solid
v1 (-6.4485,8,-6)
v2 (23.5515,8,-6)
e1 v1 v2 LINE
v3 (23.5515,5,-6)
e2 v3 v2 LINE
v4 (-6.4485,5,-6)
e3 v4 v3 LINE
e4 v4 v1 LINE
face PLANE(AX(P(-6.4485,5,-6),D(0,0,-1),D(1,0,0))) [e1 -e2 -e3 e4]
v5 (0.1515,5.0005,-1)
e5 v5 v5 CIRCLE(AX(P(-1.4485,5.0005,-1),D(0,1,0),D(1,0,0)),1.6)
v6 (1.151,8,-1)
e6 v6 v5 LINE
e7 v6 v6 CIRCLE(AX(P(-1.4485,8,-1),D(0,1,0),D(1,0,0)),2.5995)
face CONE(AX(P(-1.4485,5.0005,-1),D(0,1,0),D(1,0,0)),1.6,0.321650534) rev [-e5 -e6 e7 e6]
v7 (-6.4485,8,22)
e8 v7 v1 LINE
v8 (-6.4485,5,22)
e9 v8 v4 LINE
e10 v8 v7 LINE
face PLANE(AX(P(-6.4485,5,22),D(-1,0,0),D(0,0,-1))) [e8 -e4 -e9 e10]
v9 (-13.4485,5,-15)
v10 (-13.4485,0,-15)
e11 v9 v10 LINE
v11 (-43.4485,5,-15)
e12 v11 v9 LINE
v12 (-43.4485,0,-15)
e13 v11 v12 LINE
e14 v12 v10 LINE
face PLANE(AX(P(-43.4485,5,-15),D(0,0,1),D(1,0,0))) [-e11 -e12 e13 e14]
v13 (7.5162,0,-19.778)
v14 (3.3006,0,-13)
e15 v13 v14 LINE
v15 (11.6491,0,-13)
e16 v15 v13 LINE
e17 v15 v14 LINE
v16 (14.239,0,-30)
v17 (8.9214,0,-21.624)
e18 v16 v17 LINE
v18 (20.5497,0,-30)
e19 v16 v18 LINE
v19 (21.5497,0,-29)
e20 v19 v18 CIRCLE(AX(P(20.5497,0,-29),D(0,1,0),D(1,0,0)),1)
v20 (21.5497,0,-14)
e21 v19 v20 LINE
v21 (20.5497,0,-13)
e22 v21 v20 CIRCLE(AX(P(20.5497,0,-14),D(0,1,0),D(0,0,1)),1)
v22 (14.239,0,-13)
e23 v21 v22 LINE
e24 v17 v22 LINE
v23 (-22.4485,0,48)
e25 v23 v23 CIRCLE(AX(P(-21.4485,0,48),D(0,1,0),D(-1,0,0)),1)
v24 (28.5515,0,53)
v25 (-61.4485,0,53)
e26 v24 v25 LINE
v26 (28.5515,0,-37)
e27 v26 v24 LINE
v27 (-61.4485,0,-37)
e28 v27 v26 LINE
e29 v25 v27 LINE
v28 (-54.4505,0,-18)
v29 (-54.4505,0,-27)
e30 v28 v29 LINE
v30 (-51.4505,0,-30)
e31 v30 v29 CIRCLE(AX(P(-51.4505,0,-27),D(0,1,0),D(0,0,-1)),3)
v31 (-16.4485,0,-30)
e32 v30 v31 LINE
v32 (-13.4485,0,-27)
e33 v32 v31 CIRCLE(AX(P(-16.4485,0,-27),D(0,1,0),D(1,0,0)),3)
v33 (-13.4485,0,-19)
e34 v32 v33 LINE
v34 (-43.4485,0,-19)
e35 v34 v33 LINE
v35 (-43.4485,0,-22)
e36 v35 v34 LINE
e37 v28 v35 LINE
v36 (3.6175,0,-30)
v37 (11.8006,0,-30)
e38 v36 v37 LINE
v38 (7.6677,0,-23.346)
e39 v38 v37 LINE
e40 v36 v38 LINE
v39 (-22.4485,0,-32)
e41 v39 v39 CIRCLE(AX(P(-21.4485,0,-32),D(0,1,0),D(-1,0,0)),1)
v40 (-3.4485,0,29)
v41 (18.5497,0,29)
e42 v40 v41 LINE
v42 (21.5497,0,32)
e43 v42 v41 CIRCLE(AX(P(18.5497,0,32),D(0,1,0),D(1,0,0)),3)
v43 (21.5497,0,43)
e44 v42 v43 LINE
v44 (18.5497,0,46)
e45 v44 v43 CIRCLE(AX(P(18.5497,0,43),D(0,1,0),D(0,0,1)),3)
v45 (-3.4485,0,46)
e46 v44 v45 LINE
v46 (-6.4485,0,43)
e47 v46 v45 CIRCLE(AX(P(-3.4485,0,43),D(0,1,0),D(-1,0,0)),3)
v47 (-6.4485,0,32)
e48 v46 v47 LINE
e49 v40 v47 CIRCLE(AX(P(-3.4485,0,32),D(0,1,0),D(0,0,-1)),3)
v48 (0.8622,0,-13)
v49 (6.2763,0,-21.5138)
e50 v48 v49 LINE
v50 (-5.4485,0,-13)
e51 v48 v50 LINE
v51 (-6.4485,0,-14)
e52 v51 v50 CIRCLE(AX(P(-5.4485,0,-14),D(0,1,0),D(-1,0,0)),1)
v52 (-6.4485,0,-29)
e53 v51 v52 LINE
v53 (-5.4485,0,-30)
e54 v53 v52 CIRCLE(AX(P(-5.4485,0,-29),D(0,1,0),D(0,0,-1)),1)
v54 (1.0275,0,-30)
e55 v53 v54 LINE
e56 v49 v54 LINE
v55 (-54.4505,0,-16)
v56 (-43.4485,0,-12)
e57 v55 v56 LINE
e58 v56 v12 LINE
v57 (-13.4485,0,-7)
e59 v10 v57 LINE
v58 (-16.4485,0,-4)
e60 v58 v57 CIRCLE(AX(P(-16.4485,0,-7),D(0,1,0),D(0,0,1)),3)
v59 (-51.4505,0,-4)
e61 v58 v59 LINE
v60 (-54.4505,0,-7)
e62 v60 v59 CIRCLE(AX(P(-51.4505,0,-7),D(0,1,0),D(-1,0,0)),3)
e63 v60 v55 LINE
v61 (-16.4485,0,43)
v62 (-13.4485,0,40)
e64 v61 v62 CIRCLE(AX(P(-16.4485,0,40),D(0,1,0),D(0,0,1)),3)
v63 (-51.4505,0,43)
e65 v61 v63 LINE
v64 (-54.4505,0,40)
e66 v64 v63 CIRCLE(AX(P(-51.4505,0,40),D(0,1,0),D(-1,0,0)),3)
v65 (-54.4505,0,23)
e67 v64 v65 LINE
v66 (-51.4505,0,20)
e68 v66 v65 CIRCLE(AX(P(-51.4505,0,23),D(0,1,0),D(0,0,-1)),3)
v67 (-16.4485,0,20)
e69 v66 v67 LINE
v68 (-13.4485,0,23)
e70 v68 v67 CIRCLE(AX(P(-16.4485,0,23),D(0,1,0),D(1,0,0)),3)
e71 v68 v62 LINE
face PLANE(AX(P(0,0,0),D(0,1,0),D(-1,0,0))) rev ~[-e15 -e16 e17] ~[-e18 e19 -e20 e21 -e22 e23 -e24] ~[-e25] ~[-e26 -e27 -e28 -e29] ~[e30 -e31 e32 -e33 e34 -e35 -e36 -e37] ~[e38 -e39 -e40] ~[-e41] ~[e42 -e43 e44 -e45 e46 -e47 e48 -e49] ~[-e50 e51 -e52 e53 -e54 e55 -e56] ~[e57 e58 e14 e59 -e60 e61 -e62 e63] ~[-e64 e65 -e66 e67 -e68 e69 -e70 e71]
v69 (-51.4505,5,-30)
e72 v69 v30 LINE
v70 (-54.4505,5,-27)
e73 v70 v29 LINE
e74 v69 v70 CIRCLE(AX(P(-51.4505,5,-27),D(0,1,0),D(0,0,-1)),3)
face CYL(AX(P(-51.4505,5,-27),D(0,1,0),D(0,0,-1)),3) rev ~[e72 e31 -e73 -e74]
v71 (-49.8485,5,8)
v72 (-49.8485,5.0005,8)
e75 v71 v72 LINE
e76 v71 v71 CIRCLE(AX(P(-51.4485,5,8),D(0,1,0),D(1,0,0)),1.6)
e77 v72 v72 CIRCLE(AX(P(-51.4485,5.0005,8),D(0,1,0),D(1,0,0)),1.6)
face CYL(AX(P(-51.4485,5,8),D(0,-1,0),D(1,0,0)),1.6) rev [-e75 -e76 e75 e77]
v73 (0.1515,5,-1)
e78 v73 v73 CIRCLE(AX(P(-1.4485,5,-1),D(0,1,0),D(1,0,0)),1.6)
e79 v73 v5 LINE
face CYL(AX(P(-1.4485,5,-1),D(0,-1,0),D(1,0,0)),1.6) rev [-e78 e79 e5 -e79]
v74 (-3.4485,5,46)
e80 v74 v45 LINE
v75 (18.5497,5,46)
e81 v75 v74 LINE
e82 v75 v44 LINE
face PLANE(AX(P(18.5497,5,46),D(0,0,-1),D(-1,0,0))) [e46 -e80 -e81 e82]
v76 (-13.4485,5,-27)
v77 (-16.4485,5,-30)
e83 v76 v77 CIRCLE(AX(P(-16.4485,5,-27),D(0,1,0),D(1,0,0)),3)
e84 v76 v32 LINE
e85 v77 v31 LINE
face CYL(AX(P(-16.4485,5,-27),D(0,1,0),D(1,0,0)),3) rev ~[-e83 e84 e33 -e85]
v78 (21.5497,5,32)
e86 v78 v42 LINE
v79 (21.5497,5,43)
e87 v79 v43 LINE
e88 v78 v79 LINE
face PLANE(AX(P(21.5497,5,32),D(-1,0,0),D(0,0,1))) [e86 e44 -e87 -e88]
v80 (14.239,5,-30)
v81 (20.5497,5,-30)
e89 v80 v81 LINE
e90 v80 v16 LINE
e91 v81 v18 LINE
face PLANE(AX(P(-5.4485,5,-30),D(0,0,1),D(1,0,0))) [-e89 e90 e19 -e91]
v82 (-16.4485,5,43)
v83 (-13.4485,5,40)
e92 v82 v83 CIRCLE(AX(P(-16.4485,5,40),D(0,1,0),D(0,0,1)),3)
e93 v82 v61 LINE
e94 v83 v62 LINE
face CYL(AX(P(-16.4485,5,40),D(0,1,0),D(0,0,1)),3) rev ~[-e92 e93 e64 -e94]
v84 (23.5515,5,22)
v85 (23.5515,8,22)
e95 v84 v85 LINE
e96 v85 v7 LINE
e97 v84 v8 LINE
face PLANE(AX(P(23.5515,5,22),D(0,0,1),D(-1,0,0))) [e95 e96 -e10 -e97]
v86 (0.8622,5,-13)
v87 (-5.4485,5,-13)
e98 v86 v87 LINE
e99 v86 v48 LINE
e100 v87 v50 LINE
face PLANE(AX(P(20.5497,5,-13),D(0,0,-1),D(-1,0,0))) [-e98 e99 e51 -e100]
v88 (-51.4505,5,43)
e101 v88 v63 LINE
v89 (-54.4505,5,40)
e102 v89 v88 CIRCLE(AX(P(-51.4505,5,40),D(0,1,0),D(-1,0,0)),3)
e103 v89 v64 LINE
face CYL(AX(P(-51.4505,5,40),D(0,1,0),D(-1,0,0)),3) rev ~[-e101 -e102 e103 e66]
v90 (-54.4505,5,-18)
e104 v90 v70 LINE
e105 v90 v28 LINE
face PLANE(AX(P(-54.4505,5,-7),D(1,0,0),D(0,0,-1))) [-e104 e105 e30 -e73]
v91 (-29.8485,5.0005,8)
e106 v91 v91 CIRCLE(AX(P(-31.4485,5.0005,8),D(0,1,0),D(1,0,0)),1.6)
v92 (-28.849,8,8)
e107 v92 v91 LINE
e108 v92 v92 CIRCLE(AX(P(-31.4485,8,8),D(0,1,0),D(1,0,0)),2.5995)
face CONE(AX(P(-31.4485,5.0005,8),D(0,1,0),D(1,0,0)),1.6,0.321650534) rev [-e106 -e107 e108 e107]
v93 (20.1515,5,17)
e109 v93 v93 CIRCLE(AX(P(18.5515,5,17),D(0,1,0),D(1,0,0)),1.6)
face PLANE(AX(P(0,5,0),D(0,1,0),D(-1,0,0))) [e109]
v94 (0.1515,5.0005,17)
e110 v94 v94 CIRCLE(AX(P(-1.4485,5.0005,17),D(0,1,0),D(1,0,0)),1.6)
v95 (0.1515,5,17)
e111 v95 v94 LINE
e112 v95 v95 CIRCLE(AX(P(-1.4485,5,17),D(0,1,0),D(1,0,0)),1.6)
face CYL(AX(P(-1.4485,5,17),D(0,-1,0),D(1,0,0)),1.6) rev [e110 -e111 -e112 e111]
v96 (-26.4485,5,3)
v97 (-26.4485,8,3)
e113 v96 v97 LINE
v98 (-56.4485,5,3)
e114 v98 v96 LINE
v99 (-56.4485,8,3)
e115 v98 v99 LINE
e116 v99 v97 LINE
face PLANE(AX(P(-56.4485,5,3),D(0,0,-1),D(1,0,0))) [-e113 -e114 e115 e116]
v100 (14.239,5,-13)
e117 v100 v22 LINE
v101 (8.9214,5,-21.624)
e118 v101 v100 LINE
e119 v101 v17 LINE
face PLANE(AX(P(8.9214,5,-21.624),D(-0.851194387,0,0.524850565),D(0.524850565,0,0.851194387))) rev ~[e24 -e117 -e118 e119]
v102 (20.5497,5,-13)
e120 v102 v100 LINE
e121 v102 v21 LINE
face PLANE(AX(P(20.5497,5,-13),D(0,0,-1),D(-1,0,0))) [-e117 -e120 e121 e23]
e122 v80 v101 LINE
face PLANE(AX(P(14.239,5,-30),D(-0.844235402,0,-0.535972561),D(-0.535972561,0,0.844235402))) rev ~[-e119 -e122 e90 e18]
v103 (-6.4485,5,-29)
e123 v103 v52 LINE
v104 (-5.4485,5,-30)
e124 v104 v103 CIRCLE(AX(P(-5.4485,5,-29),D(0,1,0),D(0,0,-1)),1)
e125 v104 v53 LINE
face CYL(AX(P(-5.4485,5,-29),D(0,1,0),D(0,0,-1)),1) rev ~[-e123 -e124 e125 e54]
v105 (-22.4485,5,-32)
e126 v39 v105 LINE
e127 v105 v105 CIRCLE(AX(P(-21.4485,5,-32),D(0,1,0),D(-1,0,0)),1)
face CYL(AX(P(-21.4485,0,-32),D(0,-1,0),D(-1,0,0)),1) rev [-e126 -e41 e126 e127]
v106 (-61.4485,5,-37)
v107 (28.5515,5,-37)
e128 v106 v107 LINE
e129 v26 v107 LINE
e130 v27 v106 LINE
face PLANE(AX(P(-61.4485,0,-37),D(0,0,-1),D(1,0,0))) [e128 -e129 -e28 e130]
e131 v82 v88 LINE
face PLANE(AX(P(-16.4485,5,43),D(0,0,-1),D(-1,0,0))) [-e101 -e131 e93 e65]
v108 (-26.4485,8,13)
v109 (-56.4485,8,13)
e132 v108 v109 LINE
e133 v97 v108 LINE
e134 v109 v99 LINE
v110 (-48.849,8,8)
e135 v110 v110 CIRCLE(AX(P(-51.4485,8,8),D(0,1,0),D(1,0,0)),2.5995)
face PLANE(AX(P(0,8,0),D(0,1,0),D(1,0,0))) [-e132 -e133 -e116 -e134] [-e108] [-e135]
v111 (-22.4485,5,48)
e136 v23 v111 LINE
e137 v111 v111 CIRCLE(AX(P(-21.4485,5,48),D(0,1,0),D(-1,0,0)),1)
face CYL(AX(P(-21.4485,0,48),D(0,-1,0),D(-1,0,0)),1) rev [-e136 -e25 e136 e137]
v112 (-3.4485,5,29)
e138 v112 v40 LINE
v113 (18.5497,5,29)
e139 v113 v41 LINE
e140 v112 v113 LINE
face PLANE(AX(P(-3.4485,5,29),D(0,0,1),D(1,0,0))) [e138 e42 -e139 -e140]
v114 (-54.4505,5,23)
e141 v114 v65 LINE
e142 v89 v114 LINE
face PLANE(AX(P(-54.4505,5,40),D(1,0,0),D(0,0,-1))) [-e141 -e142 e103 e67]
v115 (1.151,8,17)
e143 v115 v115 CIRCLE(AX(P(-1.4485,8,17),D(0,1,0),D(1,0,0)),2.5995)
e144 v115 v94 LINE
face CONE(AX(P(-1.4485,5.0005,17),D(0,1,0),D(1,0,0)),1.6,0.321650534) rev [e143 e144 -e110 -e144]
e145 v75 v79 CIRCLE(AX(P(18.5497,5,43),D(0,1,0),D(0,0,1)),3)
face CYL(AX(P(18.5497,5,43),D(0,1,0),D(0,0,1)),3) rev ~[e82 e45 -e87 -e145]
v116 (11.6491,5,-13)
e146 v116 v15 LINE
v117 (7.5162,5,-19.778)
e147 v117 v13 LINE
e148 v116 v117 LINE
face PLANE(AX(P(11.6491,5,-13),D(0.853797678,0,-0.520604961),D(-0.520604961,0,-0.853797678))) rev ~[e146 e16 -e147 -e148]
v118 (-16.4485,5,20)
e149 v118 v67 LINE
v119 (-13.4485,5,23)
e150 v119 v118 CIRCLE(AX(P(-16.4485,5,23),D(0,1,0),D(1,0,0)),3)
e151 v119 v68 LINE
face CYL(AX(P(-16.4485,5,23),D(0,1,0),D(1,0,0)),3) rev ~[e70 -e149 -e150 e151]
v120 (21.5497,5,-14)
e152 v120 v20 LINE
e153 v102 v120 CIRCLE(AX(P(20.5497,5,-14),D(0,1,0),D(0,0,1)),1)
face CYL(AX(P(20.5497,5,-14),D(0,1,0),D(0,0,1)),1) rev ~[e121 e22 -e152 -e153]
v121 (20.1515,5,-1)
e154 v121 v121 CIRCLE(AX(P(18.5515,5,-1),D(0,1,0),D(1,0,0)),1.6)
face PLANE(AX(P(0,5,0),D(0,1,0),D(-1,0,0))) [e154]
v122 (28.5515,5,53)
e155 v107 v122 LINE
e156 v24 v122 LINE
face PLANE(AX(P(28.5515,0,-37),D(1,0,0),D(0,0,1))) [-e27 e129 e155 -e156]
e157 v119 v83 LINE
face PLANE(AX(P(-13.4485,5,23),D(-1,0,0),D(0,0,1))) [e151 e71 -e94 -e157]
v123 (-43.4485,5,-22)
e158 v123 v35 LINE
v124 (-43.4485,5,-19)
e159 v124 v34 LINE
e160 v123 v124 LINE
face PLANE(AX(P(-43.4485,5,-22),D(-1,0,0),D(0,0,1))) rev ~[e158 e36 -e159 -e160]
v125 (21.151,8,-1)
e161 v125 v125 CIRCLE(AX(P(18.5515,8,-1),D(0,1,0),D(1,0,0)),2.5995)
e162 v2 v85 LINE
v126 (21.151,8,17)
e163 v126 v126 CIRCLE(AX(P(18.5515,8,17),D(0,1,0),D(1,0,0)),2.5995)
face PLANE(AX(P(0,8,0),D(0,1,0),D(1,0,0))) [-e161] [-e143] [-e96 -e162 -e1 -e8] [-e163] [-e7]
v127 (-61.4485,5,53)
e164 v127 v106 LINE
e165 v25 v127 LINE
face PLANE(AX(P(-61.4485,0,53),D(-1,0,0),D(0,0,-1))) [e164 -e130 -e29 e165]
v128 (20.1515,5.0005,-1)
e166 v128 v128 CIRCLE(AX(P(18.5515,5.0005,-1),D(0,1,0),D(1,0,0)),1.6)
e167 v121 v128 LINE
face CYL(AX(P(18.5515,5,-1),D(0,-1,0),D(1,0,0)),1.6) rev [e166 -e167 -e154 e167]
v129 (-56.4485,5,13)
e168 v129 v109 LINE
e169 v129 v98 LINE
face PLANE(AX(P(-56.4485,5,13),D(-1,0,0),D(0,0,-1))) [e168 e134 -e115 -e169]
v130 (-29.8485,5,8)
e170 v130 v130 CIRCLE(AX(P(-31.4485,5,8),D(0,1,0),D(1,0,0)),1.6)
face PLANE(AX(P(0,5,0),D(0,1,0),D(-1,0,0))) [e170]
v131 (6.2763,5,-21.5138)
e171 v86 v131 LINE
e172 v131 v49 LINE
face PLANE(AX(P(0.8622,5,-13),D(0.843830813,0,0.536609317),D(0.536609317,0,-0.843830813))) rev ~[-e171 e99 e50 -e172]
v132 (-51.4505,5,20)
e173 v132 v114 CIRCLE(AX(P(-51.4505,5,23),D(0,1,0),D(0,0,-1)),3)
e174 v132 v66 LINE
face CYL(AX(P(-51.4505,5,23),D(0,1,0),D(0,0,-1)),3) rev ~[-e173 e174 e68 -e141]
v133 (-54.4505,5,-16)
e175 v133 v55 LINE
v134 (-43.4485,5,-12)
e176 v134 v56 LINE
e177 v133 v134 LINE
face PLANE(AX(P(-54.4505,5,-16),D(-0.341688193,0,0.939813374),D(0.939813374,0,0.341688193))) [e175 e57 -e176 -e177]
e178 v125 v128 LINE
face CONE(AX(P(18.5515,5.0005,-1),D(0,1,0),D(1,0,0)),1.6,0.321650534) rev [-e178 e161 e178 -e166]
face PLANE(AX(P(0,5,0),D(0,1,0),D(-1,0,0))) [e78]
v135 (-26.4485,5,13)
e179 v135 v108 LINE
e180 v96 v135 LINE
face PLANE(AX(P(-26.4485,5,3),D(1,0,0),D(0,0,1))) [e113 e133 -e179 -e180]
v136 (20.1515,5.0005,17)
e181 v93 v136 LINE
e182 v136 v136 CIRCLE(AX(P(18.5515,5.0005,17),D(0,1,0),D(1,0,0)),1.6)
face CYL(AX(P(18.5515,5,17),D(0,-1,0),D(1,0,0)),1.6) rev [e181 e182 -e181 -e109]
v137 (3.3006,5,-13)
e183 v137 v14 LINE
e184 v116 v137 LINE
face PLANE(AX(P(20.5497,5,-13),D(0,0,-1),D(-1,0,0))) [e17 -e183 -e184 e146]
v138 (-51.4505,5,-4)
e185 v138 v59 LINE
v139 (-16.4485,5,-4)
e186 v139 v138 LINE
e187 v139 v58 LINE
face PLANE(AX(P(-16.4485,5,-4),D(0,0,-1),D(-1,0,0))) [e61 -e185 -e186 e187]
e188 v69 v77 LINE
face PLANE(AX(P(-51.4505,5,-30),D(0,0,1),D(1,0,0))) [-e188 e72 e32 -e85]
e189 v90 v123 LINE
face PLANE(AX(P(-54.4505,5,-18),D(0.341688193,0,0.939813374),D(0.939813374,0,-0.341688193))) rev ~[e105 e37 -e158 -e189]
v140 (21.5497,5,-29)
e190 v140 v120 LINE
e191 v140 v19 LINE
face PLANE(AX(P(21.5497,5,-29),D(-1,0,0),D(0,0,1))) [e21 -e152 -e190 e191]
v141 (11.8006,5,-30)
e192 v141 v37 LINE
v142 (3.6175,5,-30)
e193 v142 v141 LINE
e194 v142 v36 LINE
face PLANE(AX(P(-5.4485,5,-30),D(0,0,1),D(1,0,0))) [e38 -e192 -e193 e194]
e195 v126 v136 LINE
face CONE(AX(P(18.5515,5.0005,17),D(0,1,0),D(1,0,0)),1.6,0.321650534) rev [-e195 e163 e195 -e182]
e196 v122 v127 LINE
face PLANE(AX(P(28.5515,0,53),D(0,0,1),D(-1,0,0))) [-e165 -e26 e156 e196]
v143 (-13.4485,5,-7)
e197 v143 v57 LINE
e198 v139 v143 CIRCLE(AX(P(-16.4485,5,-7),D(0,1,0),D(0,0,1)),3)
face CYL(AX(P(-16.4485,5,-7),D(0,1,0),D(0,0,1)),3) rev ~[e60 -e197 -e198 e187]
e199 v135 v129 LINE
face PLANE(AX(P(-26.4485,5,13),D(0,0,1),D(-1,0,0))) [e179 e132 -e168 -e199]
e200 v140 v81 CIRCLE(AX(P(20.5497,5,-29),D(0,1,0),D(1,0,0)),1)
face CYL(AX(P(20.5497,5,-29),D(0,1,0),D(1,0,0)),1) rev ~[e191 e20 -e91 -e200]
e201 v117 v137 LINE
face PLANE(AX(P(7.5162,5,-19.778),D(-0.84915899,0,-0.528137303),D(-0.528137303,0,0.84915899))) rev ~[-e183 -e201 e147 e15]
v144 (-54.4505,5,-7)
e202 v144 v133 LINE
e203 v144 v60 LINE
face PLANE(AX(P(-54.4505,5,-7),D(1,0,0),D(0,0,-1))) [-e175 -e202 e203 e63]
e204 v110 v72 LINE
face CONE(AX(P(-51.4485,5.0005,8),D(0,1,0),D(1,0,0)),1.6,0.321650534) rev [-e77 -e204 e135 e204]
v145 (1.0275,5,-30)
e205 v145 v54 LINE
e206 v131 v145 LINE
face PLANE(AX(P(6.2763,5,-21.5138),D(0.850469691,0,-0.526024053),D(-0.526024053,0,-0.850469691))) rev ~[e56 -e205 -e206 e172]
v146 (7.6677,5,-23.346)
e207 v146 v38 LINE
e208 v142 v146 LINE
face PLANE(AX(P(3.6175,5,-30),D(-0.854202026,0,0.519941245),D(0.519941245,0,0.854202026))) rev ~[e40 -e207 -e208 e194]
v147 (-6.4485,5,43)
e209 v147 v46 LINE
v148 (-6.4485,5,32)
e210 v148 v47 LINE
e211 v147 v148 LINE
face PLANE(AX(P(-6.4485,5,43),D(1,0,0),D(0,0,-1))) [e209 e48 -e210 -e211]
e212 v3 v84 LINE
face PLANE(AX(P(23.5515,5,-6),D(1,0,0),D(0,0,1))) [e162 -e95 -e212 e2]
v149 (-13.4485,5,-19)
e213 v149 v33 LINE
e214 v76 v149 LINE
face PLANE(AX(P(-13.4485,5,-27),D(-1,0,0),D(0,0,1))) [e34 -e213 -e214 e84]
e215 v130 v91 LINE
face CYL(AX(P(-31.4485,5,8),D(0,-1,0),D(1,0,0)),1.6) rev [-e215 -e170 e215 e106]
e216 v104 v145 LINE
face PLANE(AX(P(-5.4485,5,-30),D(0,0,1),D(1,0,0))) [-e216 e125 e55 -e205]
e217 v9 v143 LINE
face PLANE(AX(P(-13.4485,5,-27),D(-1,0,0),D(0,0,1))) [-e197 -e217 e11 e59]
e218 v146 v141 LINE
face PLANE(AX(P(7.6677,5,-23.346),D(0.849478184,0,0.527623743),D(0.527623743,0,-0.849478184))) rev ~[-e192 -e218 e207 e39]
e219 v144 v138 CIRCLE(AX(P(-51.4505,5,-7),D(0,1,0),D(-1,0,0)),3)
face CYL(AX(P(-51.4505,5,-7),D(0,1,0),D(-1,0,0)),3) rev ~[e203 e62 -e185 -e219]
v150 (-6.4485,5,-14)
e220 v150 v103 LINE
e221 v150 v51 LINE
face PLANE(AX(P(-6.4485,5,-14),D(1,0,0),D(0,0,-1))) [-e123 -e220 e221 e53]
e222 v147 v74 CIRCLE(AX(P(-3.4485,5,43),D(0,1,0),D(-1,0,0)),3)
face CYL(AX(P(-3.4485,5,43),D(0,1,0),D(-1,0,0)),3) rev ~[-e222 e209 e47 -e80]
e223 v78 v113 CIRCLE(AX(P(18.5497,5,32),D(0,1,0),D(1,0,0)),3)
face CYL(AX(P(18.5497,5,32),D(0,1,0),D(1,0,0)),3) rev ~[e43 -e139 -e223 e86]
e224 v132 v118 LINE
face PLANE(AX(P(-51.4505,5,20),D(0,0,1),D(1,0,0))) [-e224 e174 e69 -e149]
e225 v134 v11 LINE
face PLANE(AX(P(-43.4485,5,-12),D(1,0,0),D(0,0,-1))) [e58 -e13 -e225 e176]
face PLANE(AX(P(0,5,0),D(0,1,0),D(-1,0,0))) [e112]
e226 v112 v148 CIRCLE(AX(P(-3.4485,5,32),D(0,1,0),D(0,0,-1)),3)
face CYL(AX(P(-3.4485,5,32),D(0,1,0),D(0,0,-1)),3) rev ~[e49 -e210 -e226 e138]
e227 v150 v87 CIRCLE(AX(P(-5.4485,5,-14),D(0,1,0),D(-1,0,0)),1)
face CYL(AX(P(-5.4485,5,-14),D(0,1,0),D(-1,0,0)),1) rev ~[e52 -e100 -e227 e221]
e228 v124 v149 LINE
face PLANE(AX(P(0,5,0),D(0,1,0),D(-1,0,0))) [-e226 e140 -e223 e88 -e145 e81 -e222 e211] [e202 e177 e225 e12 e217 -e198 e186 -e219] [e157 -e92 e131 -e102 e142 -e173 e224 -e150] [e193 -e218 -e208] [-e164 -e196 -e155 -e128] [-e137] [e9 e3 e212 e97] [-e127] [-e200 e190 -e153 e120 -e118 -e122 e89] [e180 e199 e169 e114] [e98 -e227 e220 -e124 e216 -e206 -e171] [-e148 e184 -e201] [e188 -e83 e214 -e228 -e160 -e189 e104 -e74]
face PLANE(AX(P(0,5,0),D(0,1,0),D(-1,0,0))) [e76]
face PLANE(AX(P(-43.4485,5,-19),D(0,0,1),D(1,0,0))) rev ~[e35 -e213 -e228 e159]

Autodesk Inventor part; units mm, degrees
ref_plane "YZ Plane" through (0, 0, 0) normal (1, 0, 0) x (0, 1, 0)
ref_plane "Arbeitsebene1" through (-21.4485, 99.4, 5.4) normal (-1, 0, 0) x (0, -0.6026, -0.798)
sketch "center1" plane through (-21.4485, 99.4, 5.4) normal (-1, 0, 0) x (0, -0.6026, -0.798)
  line L0 (125.8462, -4.4299) -> (-42.8597, 122.9603)
  line L1 (111.6965, 152.237) -> (-23.2865, -26.5243)
  point P0 (64.2081, 76.0713)
ref_plane "Arbeitsebene2" through (53.5515, 27.1, 8) normal (0, 0, -1) x (0, 1, 0)
sketch "center2" plane through (53.5515, 27.1, 8) normal (0, 0, -1) x (0, 1, 0)
  line L0 (0, 239.86) -> (0, -220.81)
  point P0 (-27.1, -53.5515)
sketch "Hallsensor" plane through (0, 0, 0) normal (0, 1, 0) x (-1, 0, 0)
  line L0 (21.4485, 13) -> (41.4485, 13) construction
  line L1 (41.4485, 13) -> (41.4485, 3) construction
  line L2 (41.4485, 3) -> (21.4485, 3) construction
  line L3 (21.4485, 3) -> (21.4485, 13) construction
  line L4 (21.4485, -97.7) -> (21.4485, 113.7) construction
  line L5 (-293.4115, 8) -> (167.2585, 8) construction
  line L6 (40.4485, 4) -> (42.4485, 4)
  line L7 (42.4485, 4) -> (42.4485, 2)
  line L8 (42.4485, 2) -> (40.4485, 2)
  line L9 (40.4485, 2) -> (40.4485, 4)
  line L10 (40.4485, 4) -> (42.4485, 2) construction
  line L11 (42.4485, 4) -> (40.4485, 2) construction
  line L12 (22.4485, 4) -> (20.4485, 4)
  line L13 (20.4485, 4) -> (20.4485, 2)
  line L14 (20.4485, 2) -> (22.4485, 2)
  line L15 (22.4485, 2) -> (22.4485, 4)
  line L16 (22.4485, 4) -> (20.4485, 2) construction
  line L17 (20.4485, 4) -> (22.4485, 2) construction
  line L18 (22.4485, 14) -> (20.4485, 14)
  line L19 (20.4485, 14) -> (20.4485, 12)
  line L20 (20.4485, 12) -> (22.4485, 12)
  line L21 (22.4485, 12) -> (22.4485, 14)
  line L22 (22.4485, 14) -> (20.4485, 12) construction
  line L23 (20.4485, 14) -> (22.4485, 12) construction
  line L24 (42.4485, 14) -> (40.4485, 14)
  line L25 (40.4485, 14) -> (40.4485, 12)
  line L26 (40.4485, 12) -> (42.4485, 12)
  line L27 (42.4485, 12) -> (42.4485, 14)
  line L28 (42.4485, 14) -> (40.4485, 12) construction
  line L29 (40.4485, 14) -> (42.4485, 12) construction
  line L30 (51.4485, -1) -> (1.4485, -1) construction
  line L31 (1.4485, -1) -> (1.4485, 17) construction
  line L32 (1.4485, 17) -> (51.4485, 17) construction
  line L33 (51.4485, 17) -> (51.4485, -1) construction
  circle A0 centre (51.4485, 8) radius 1.5
  circle A1 centre (1.4485, -1) radius 1.5
  circle A2 centre (1.4485, 17) radius 1.5
  point P0 (0, 0)
  point P1 (21.4485, 3)
  point P2 (21.4485, 3)
  dimension "d70" = 20
  dimension "d71" = 10
  dimension "d72" = 2
  dimension "d73" = 4
  dimension "d74" = 4
  dimension "d75" = 20
  dimension "d76" = 10
  dimension "d77" = 3
  dimension "d78" = 5
sketch "Groundplane" plane through (0, 0, 0) normal (0, 1, 0) x (-1, 0, 0)
  line L0 (-293.4115, 8) -> (167.2585, 8) construction
  line L1 (21.4485, -97.7) -> (21.4485, 113.7) construction
  arc A0 (22.4485, -32) -> (20.4485, -32) centre (21.4485, -32) ccw construction
  line L2 (22.4485, -32) -> (20.4485, -32) construction
  line L3 (20.4485, -32) -> (20.4485, -37) construction
  line L4 (20.4485, -37) -> (22.4485, -37) construction
  line L5 (22.4485, -37) -> (22.4485, -32) construction
  arc A1 (20.4485, 48) -> (22.4485, 48) centre (21.4485, 48) ccw construction
  line L6 (20.4485, 48) -> (22.4485, 48) construction
  line L7 (22.4485, 48) -> (22.4485, 53) construction
  line L8 (22.4485, 53) -> (20.4485, 53) construction
  line L9 (20.4485, 53) -> (20.4485, 48) construction
  line L10 (61.4485, -37) -> (-28.5515, -37) construction
  line L11 (-28.5515, -37) -> (-28.5515, 53) construction
  line L12 (-28.5515, 53) -> (61.4485, 53) construction
  line L13 (61.4485, 53) -> (61.4485, -37) construction
  dimension "d87" = 5
  dimension "d88" = 2
  dimension "d89" = 2
  dimension "d90" = 5
  dimension "d91" = 90
  dimension "d92" = 45
  dimension "d97" = 50
  dimension "d98" = 90
sketch "Montagepunkte" plane through (0, 0, 0) normal (0, 1, 0) x (-1, 0, 0)
  circle A0 centre (51.4485, 8) radius 1.5 construction
  circle A1 centre (1.4485, -1) radius 1.5 construction
  circle A2 centre (1.4485, 17) radius 1.5 construction
  line L0 (1.4485, -1) -> (-18.5515, -1) construction
  line L1 (-18.5515, -1) -> (-18.5515, 17) construction
  line L2 (-18.5515, 17) -> (1.4485, 17) construction
  line L3 (1.4485, 17) -> (1.4485, -1) construction
  line L4 (51.4485, 8) -> (31.4485, 8) construction
  circle A3 centre (31.4485, 8) radius 1.6
  circle A4 centre (51.4485, 8) radius 1.6
  circle A5 centre (1.4485, -1) radius 1.6
  circle A6 centre (1.4485, 17) radius 1.6
  circle A7 centre (-18.5515, 17) radius 1.6
  circle A8 centre (-18.5515, -1) radius 1.6
  arc A9 (22.4485, -32) -> (20.4485, -32) centre (21.4485, -32) ccw construction
  arc A10 (20.4485, 48) -> (22.4485, 48) centre (21.4485, 48) ccw construction
  circle A11 centre (21.4485, -32) radius 1
  circle A12 centre (21.4485, 48) radius 1
  dimension "d93" = 20
  dimension "d94" = 20
  dimension "d95" = 3.2
  dimension "d96" = 2
sketch "Skizze5" plane through (0, 0, 0) normal (0, 1, 0) x (-1, 0, 0)
  line L0 (-293.4115, 8) -> (167.2585, 8) construction
  circle A0 centre (21.4485, -32) radius 1 projected
  circle A1 centre (21.4485, 48) radius 1 projected
  line L1 (61.4485, -37) -> (-28.5515, -37) projected
  line L2 (61.4485, 53) -> (61.4485, -37) projected
  line L3 (-28.5515, -37) -> (-28.5515, 53) projected
  line L4 (-28.5515, 53) -> (61.4485, 53) projected
extrude "Extrusion2" add sketch "Skizze5" along normal blind 5
sketch "Skizze6" plane through (0, 5, 0) normal (0, 1, 0) x (1, 0, 0)
  line L0 (-56.4485, -3) -> (-26.4485, -3)
  line L1 (-26.4485, -3) -> (-26.4485, -13)
  line L2 (-26.4485, -13) -> (-56.4485, -13)
  line L3 (-56.4485, -13) -> (-56.4485, -3)
  line L4 (-6.4485, 6) -> (23.5515, 6)
  line L5 (23.5515, 6) -> (23.5515, -22)
  line L6 (23.5515, -22) -> (-6.4485, -22)
  line L7 (-6.4485, -22) -> (-6.4485, 6)
  circle A0 centre (-51.4485, -8) radius 1.6 projected
  circle A1 centre (-31.4485, -8) radius 1.6 projected
  circle A2 centre (-1.4485, -17) radius 1.6 projected
  circle A3 centre (18.5515, -17) radius 1.6 projected
  circle A4 centre (18.5515, 1) radius 1.6 projected
  circle A5 centre (-1.4485, 1) radius 1.6 projected
  point P0 (0, 0)
  dimension "d99" = 5
  dimension "d100" = 5
  dimension "d101" = 5
  dimension "d102" = 5
  dimension "d103" = 5
  dimension "d104" = 5
  dimension "d105" = 5
  dimension "d106" = 5
extrude "Extrusion3" add sketch "Skizze6" along normal blind 3
chamfer "Fase1" distance 1 distance2 3 2 edges at (-53.0485, 8, 8) (-33.0485, 8, 8) measured on face at (-38.3043, 8, 4.168)
chamfer "Fase2" distance 1 distance2 3 4 edges at (-3.0485, 8, -1) (16.9515, 8, -1) (16.9515, 8, 17) (-3.0485, 8, 17) measured on face at (11.4857, 8, 5.3537)
sketch "Skizze7" plane through (0, 5, 0) normal (0, 1, 0) x (1, 0, 0)
  line L0 (-51.4505, 30) -> (-16.4485, 30)
  line L1 (-13.4485, 27) -> (-13.4485, 7)
  line L2 (-16.4485, 4) -> (-51.4505, 4)
  line L3 (-54.4505, 7) -> (-54.4505, 27)
  line L4 (-51.4505, -20) -> (-16.4485, -20)
  line L5 (-13.4485, -23) -> (-13.4485, -40)
  line L6 (-16.4485, -43) -> (-51.4505, -43)
  line L7 (-54.4505, -40) -> (-54.4505, -23)
  line L8 (-3.4485, -29) -> (18.5497, -29)
  line L9 (21.5497, -32) -> (21.5497, -43)
  line L10 (18.5497, -46) -> (-3.4485, -46)
  line L11 (-6.4485, -43) -> (-6.4485, -32)
  line L12 (28.5497, -53) -> (28.5497, 37)
  line L13 (-61.4505, -53) -> (28.5497, -53)
  line L14 (-61.4505, 37) -> (-61.4505, -53)
  line L15 (-56.4485, -13) -> (-26.4485, -13) projected
  line L16 (-6.4485, 6) -> (-6.4485, -22) projected
  line L17 (-26.4485, -3) -> (-56.4485, -3) projected
  line L18 (28.5497, 37) -> (-61.4505, 37)
  line L19 (-6.4485, -22) -> (23.5515, -22) projected
  line L20 (-5.4485, 30) -> (20.5497, 30)
  line L21 (21.5497, 29) -> (21.5497, 14)
  line L22 (20.5497, 13) -> (-5.4485, 13)
  line L23 (-6.4485, 14) -> (-6.4485, 29)
  line L24 (23.5515, 6) -> (-6.4485, 6) projected
  arc A0 (-51.4505, 30) -> (-54.4505, 27) centre (-51.4505, 27) ccw
  arc A1 (-54.4505, 7) -> (-51.4505, 4) centre (-51.4505, 7) ccw
  arc A2 (-13.4485, 27) -> (-16.4485, 30) centre (-16.4485, 27) ccw
  arc A3 (-16.4485, 4) -> (-13.4485, 7) centre (-16.4485, 7) ccw
  arc A4 (-51.4505, -20) -> (-54.4505, -23) centre (-51.4505, -23) ccw
  arc A5 (-13.4485, -23) -> (-16.4485, -20) centre (-16.4485, -23) ccw
  arc A6 (-16.4485, -43) -> (-13.4485, -40) centre (-16.4485, -40) ccw
  arc A7 (-54.4505, -40) -> (-51.4505, -43) centre (-51.4505, -40) ccw
  arc A8 (-3.4485, -29) -> (-6.4485, -32) centre (-3.4485, -32) ccw
  arc A9 (-6.4485, -43) -> (-3.4485, -46) centre (-3.4485, -43) ccw
  arc A10 (18.5497, -46) -> (21.5497, -43) centre (18.5497, -43) ccw
  arc A11 (21.5497, -32) -> (18.5497, -29) centre (18.5497, -32) ccw
  arc A12 (-5.4485, 30) -> (-6.4485, 29) centre (-5.4485, 29) ccw
  arc A13 (-6.4485, 14) -> (-5.4485, 13) centre (-5.4485, 14) ccw
  arc A14 (21.5497, 29) -> (20.5497, 30) centre (20.5497, 29) ccw
  arc A15 (20.5497, 13) -> (21.5497, 14) centre (20.5497, 14) ccw
  point P0 (0, 0)
  point P1 (-13.4485, -43)
  point P2 (-41.4485, -3)
  point P3 (-6.4485, -37.5)
  point P4 (-6.4485, 21.5)
  dimension "d42" = 7
  dimension "d43" = 7
  dimension "d44" = 7
  dimension "d45" = 10
  dimension "d46" = 7
  dimension "d47" = 7
  dimension "d48" = 7
  dimension "d49" = 7
  dimension "d50" = 7
  dimension "d51" = 7
  dimension "d52" = 7
  dimension "d53" = 7
  dimension "d54" = 7
  dimension "d55" = 7
  dimension "d56" = 7
  dimension "d57" = 7
  dimension "d58" = 3
  dimension "d59" = 3
  dimension "d60" = 1
extrude "Extrusion4" cut sketch "Skizze7" against normal through all contours L0 A2 L1 A3 L2 A1 L3 A0 | L4 A5 L5 A6 L6 A7 L7 A4 | L8 A11 L9 A10 L10 A9 L11 A8 | L20 A14 L21 A15 L22 A13 L23 A12
sketch "Skizze11" plane through (0, 5, 0) normal (0, 1, 0) x (1, 0, 0)
  line L0 (-54.4505, 7) -> (-54.4505, 27) projected
  line L1 (-13.4485, 27) -> (-13.4485, 7) projected
  line L2 (20.5497, 13) -> (-5.4485, 13) construction
  line L3 (-54.4505, 18) -> (-43.4485, 22)
  line L4 (-43.4485, 22) -> (-43.4485, 19)
  line L5 (-43.4485, 19) -> (-13.4485, 19)
  line L6 (-54.4505, 16) -> (-43.4485, 12)
  line L7 (-43.4485, 12) -> (-43.4485, 15)
  line L8 (-43.4485, 15) -> (-13.4485, 15)
  line L9 (14.239, 13) -> (11.6491, 13)
  line L10 (11.6491, 13) -> (7.5162, 19.778)
  line L11 (7.5162, 19.778) -> (3.3006, 13)
  line L12 (3.3006, 13) -> (0.8622, 13)
  line L13 (0.8622, 13) -> (6.2763, 21.5138)
  line L14 (6.2763, 21.5138) -> (1.0275, 30)
  line L15 (1.0275, 30) -> (3.6175, 30)
  line L16 (3.6175, 30) -> (7.6677, 23.346)
  line L17 (7.6677, 23.346) -> (11.8006, 30)
  line L18 (11.8006, 30) -> (14.239, 30)
  line L19 (14.239, 30) -> (8.9214, 21.624)
  line L20 (8.9214, 21.624) -> (14.239, 13)
  point P0 (0, 0)
  point P1 (-54.4505, 17)
  point P2 (-54.4505, 17)
  point P3 (-54.4505, 17)
  point P4 (-54.4505, 17)
  point P5 (-54.4505, 17)
  dimension "d108" = 4
  dimension "d109" = 2
  dimension "d110" = 30
  dimension "d111" = 3
  dimension "d112" = 3
  dimension "d113" = 1
  dimension "d114" = 1
extrude "Extrusion5" add sketch "Skizze11" against normal up to surface (5 mm away)
properties part number "HallSensor_Halterung"
